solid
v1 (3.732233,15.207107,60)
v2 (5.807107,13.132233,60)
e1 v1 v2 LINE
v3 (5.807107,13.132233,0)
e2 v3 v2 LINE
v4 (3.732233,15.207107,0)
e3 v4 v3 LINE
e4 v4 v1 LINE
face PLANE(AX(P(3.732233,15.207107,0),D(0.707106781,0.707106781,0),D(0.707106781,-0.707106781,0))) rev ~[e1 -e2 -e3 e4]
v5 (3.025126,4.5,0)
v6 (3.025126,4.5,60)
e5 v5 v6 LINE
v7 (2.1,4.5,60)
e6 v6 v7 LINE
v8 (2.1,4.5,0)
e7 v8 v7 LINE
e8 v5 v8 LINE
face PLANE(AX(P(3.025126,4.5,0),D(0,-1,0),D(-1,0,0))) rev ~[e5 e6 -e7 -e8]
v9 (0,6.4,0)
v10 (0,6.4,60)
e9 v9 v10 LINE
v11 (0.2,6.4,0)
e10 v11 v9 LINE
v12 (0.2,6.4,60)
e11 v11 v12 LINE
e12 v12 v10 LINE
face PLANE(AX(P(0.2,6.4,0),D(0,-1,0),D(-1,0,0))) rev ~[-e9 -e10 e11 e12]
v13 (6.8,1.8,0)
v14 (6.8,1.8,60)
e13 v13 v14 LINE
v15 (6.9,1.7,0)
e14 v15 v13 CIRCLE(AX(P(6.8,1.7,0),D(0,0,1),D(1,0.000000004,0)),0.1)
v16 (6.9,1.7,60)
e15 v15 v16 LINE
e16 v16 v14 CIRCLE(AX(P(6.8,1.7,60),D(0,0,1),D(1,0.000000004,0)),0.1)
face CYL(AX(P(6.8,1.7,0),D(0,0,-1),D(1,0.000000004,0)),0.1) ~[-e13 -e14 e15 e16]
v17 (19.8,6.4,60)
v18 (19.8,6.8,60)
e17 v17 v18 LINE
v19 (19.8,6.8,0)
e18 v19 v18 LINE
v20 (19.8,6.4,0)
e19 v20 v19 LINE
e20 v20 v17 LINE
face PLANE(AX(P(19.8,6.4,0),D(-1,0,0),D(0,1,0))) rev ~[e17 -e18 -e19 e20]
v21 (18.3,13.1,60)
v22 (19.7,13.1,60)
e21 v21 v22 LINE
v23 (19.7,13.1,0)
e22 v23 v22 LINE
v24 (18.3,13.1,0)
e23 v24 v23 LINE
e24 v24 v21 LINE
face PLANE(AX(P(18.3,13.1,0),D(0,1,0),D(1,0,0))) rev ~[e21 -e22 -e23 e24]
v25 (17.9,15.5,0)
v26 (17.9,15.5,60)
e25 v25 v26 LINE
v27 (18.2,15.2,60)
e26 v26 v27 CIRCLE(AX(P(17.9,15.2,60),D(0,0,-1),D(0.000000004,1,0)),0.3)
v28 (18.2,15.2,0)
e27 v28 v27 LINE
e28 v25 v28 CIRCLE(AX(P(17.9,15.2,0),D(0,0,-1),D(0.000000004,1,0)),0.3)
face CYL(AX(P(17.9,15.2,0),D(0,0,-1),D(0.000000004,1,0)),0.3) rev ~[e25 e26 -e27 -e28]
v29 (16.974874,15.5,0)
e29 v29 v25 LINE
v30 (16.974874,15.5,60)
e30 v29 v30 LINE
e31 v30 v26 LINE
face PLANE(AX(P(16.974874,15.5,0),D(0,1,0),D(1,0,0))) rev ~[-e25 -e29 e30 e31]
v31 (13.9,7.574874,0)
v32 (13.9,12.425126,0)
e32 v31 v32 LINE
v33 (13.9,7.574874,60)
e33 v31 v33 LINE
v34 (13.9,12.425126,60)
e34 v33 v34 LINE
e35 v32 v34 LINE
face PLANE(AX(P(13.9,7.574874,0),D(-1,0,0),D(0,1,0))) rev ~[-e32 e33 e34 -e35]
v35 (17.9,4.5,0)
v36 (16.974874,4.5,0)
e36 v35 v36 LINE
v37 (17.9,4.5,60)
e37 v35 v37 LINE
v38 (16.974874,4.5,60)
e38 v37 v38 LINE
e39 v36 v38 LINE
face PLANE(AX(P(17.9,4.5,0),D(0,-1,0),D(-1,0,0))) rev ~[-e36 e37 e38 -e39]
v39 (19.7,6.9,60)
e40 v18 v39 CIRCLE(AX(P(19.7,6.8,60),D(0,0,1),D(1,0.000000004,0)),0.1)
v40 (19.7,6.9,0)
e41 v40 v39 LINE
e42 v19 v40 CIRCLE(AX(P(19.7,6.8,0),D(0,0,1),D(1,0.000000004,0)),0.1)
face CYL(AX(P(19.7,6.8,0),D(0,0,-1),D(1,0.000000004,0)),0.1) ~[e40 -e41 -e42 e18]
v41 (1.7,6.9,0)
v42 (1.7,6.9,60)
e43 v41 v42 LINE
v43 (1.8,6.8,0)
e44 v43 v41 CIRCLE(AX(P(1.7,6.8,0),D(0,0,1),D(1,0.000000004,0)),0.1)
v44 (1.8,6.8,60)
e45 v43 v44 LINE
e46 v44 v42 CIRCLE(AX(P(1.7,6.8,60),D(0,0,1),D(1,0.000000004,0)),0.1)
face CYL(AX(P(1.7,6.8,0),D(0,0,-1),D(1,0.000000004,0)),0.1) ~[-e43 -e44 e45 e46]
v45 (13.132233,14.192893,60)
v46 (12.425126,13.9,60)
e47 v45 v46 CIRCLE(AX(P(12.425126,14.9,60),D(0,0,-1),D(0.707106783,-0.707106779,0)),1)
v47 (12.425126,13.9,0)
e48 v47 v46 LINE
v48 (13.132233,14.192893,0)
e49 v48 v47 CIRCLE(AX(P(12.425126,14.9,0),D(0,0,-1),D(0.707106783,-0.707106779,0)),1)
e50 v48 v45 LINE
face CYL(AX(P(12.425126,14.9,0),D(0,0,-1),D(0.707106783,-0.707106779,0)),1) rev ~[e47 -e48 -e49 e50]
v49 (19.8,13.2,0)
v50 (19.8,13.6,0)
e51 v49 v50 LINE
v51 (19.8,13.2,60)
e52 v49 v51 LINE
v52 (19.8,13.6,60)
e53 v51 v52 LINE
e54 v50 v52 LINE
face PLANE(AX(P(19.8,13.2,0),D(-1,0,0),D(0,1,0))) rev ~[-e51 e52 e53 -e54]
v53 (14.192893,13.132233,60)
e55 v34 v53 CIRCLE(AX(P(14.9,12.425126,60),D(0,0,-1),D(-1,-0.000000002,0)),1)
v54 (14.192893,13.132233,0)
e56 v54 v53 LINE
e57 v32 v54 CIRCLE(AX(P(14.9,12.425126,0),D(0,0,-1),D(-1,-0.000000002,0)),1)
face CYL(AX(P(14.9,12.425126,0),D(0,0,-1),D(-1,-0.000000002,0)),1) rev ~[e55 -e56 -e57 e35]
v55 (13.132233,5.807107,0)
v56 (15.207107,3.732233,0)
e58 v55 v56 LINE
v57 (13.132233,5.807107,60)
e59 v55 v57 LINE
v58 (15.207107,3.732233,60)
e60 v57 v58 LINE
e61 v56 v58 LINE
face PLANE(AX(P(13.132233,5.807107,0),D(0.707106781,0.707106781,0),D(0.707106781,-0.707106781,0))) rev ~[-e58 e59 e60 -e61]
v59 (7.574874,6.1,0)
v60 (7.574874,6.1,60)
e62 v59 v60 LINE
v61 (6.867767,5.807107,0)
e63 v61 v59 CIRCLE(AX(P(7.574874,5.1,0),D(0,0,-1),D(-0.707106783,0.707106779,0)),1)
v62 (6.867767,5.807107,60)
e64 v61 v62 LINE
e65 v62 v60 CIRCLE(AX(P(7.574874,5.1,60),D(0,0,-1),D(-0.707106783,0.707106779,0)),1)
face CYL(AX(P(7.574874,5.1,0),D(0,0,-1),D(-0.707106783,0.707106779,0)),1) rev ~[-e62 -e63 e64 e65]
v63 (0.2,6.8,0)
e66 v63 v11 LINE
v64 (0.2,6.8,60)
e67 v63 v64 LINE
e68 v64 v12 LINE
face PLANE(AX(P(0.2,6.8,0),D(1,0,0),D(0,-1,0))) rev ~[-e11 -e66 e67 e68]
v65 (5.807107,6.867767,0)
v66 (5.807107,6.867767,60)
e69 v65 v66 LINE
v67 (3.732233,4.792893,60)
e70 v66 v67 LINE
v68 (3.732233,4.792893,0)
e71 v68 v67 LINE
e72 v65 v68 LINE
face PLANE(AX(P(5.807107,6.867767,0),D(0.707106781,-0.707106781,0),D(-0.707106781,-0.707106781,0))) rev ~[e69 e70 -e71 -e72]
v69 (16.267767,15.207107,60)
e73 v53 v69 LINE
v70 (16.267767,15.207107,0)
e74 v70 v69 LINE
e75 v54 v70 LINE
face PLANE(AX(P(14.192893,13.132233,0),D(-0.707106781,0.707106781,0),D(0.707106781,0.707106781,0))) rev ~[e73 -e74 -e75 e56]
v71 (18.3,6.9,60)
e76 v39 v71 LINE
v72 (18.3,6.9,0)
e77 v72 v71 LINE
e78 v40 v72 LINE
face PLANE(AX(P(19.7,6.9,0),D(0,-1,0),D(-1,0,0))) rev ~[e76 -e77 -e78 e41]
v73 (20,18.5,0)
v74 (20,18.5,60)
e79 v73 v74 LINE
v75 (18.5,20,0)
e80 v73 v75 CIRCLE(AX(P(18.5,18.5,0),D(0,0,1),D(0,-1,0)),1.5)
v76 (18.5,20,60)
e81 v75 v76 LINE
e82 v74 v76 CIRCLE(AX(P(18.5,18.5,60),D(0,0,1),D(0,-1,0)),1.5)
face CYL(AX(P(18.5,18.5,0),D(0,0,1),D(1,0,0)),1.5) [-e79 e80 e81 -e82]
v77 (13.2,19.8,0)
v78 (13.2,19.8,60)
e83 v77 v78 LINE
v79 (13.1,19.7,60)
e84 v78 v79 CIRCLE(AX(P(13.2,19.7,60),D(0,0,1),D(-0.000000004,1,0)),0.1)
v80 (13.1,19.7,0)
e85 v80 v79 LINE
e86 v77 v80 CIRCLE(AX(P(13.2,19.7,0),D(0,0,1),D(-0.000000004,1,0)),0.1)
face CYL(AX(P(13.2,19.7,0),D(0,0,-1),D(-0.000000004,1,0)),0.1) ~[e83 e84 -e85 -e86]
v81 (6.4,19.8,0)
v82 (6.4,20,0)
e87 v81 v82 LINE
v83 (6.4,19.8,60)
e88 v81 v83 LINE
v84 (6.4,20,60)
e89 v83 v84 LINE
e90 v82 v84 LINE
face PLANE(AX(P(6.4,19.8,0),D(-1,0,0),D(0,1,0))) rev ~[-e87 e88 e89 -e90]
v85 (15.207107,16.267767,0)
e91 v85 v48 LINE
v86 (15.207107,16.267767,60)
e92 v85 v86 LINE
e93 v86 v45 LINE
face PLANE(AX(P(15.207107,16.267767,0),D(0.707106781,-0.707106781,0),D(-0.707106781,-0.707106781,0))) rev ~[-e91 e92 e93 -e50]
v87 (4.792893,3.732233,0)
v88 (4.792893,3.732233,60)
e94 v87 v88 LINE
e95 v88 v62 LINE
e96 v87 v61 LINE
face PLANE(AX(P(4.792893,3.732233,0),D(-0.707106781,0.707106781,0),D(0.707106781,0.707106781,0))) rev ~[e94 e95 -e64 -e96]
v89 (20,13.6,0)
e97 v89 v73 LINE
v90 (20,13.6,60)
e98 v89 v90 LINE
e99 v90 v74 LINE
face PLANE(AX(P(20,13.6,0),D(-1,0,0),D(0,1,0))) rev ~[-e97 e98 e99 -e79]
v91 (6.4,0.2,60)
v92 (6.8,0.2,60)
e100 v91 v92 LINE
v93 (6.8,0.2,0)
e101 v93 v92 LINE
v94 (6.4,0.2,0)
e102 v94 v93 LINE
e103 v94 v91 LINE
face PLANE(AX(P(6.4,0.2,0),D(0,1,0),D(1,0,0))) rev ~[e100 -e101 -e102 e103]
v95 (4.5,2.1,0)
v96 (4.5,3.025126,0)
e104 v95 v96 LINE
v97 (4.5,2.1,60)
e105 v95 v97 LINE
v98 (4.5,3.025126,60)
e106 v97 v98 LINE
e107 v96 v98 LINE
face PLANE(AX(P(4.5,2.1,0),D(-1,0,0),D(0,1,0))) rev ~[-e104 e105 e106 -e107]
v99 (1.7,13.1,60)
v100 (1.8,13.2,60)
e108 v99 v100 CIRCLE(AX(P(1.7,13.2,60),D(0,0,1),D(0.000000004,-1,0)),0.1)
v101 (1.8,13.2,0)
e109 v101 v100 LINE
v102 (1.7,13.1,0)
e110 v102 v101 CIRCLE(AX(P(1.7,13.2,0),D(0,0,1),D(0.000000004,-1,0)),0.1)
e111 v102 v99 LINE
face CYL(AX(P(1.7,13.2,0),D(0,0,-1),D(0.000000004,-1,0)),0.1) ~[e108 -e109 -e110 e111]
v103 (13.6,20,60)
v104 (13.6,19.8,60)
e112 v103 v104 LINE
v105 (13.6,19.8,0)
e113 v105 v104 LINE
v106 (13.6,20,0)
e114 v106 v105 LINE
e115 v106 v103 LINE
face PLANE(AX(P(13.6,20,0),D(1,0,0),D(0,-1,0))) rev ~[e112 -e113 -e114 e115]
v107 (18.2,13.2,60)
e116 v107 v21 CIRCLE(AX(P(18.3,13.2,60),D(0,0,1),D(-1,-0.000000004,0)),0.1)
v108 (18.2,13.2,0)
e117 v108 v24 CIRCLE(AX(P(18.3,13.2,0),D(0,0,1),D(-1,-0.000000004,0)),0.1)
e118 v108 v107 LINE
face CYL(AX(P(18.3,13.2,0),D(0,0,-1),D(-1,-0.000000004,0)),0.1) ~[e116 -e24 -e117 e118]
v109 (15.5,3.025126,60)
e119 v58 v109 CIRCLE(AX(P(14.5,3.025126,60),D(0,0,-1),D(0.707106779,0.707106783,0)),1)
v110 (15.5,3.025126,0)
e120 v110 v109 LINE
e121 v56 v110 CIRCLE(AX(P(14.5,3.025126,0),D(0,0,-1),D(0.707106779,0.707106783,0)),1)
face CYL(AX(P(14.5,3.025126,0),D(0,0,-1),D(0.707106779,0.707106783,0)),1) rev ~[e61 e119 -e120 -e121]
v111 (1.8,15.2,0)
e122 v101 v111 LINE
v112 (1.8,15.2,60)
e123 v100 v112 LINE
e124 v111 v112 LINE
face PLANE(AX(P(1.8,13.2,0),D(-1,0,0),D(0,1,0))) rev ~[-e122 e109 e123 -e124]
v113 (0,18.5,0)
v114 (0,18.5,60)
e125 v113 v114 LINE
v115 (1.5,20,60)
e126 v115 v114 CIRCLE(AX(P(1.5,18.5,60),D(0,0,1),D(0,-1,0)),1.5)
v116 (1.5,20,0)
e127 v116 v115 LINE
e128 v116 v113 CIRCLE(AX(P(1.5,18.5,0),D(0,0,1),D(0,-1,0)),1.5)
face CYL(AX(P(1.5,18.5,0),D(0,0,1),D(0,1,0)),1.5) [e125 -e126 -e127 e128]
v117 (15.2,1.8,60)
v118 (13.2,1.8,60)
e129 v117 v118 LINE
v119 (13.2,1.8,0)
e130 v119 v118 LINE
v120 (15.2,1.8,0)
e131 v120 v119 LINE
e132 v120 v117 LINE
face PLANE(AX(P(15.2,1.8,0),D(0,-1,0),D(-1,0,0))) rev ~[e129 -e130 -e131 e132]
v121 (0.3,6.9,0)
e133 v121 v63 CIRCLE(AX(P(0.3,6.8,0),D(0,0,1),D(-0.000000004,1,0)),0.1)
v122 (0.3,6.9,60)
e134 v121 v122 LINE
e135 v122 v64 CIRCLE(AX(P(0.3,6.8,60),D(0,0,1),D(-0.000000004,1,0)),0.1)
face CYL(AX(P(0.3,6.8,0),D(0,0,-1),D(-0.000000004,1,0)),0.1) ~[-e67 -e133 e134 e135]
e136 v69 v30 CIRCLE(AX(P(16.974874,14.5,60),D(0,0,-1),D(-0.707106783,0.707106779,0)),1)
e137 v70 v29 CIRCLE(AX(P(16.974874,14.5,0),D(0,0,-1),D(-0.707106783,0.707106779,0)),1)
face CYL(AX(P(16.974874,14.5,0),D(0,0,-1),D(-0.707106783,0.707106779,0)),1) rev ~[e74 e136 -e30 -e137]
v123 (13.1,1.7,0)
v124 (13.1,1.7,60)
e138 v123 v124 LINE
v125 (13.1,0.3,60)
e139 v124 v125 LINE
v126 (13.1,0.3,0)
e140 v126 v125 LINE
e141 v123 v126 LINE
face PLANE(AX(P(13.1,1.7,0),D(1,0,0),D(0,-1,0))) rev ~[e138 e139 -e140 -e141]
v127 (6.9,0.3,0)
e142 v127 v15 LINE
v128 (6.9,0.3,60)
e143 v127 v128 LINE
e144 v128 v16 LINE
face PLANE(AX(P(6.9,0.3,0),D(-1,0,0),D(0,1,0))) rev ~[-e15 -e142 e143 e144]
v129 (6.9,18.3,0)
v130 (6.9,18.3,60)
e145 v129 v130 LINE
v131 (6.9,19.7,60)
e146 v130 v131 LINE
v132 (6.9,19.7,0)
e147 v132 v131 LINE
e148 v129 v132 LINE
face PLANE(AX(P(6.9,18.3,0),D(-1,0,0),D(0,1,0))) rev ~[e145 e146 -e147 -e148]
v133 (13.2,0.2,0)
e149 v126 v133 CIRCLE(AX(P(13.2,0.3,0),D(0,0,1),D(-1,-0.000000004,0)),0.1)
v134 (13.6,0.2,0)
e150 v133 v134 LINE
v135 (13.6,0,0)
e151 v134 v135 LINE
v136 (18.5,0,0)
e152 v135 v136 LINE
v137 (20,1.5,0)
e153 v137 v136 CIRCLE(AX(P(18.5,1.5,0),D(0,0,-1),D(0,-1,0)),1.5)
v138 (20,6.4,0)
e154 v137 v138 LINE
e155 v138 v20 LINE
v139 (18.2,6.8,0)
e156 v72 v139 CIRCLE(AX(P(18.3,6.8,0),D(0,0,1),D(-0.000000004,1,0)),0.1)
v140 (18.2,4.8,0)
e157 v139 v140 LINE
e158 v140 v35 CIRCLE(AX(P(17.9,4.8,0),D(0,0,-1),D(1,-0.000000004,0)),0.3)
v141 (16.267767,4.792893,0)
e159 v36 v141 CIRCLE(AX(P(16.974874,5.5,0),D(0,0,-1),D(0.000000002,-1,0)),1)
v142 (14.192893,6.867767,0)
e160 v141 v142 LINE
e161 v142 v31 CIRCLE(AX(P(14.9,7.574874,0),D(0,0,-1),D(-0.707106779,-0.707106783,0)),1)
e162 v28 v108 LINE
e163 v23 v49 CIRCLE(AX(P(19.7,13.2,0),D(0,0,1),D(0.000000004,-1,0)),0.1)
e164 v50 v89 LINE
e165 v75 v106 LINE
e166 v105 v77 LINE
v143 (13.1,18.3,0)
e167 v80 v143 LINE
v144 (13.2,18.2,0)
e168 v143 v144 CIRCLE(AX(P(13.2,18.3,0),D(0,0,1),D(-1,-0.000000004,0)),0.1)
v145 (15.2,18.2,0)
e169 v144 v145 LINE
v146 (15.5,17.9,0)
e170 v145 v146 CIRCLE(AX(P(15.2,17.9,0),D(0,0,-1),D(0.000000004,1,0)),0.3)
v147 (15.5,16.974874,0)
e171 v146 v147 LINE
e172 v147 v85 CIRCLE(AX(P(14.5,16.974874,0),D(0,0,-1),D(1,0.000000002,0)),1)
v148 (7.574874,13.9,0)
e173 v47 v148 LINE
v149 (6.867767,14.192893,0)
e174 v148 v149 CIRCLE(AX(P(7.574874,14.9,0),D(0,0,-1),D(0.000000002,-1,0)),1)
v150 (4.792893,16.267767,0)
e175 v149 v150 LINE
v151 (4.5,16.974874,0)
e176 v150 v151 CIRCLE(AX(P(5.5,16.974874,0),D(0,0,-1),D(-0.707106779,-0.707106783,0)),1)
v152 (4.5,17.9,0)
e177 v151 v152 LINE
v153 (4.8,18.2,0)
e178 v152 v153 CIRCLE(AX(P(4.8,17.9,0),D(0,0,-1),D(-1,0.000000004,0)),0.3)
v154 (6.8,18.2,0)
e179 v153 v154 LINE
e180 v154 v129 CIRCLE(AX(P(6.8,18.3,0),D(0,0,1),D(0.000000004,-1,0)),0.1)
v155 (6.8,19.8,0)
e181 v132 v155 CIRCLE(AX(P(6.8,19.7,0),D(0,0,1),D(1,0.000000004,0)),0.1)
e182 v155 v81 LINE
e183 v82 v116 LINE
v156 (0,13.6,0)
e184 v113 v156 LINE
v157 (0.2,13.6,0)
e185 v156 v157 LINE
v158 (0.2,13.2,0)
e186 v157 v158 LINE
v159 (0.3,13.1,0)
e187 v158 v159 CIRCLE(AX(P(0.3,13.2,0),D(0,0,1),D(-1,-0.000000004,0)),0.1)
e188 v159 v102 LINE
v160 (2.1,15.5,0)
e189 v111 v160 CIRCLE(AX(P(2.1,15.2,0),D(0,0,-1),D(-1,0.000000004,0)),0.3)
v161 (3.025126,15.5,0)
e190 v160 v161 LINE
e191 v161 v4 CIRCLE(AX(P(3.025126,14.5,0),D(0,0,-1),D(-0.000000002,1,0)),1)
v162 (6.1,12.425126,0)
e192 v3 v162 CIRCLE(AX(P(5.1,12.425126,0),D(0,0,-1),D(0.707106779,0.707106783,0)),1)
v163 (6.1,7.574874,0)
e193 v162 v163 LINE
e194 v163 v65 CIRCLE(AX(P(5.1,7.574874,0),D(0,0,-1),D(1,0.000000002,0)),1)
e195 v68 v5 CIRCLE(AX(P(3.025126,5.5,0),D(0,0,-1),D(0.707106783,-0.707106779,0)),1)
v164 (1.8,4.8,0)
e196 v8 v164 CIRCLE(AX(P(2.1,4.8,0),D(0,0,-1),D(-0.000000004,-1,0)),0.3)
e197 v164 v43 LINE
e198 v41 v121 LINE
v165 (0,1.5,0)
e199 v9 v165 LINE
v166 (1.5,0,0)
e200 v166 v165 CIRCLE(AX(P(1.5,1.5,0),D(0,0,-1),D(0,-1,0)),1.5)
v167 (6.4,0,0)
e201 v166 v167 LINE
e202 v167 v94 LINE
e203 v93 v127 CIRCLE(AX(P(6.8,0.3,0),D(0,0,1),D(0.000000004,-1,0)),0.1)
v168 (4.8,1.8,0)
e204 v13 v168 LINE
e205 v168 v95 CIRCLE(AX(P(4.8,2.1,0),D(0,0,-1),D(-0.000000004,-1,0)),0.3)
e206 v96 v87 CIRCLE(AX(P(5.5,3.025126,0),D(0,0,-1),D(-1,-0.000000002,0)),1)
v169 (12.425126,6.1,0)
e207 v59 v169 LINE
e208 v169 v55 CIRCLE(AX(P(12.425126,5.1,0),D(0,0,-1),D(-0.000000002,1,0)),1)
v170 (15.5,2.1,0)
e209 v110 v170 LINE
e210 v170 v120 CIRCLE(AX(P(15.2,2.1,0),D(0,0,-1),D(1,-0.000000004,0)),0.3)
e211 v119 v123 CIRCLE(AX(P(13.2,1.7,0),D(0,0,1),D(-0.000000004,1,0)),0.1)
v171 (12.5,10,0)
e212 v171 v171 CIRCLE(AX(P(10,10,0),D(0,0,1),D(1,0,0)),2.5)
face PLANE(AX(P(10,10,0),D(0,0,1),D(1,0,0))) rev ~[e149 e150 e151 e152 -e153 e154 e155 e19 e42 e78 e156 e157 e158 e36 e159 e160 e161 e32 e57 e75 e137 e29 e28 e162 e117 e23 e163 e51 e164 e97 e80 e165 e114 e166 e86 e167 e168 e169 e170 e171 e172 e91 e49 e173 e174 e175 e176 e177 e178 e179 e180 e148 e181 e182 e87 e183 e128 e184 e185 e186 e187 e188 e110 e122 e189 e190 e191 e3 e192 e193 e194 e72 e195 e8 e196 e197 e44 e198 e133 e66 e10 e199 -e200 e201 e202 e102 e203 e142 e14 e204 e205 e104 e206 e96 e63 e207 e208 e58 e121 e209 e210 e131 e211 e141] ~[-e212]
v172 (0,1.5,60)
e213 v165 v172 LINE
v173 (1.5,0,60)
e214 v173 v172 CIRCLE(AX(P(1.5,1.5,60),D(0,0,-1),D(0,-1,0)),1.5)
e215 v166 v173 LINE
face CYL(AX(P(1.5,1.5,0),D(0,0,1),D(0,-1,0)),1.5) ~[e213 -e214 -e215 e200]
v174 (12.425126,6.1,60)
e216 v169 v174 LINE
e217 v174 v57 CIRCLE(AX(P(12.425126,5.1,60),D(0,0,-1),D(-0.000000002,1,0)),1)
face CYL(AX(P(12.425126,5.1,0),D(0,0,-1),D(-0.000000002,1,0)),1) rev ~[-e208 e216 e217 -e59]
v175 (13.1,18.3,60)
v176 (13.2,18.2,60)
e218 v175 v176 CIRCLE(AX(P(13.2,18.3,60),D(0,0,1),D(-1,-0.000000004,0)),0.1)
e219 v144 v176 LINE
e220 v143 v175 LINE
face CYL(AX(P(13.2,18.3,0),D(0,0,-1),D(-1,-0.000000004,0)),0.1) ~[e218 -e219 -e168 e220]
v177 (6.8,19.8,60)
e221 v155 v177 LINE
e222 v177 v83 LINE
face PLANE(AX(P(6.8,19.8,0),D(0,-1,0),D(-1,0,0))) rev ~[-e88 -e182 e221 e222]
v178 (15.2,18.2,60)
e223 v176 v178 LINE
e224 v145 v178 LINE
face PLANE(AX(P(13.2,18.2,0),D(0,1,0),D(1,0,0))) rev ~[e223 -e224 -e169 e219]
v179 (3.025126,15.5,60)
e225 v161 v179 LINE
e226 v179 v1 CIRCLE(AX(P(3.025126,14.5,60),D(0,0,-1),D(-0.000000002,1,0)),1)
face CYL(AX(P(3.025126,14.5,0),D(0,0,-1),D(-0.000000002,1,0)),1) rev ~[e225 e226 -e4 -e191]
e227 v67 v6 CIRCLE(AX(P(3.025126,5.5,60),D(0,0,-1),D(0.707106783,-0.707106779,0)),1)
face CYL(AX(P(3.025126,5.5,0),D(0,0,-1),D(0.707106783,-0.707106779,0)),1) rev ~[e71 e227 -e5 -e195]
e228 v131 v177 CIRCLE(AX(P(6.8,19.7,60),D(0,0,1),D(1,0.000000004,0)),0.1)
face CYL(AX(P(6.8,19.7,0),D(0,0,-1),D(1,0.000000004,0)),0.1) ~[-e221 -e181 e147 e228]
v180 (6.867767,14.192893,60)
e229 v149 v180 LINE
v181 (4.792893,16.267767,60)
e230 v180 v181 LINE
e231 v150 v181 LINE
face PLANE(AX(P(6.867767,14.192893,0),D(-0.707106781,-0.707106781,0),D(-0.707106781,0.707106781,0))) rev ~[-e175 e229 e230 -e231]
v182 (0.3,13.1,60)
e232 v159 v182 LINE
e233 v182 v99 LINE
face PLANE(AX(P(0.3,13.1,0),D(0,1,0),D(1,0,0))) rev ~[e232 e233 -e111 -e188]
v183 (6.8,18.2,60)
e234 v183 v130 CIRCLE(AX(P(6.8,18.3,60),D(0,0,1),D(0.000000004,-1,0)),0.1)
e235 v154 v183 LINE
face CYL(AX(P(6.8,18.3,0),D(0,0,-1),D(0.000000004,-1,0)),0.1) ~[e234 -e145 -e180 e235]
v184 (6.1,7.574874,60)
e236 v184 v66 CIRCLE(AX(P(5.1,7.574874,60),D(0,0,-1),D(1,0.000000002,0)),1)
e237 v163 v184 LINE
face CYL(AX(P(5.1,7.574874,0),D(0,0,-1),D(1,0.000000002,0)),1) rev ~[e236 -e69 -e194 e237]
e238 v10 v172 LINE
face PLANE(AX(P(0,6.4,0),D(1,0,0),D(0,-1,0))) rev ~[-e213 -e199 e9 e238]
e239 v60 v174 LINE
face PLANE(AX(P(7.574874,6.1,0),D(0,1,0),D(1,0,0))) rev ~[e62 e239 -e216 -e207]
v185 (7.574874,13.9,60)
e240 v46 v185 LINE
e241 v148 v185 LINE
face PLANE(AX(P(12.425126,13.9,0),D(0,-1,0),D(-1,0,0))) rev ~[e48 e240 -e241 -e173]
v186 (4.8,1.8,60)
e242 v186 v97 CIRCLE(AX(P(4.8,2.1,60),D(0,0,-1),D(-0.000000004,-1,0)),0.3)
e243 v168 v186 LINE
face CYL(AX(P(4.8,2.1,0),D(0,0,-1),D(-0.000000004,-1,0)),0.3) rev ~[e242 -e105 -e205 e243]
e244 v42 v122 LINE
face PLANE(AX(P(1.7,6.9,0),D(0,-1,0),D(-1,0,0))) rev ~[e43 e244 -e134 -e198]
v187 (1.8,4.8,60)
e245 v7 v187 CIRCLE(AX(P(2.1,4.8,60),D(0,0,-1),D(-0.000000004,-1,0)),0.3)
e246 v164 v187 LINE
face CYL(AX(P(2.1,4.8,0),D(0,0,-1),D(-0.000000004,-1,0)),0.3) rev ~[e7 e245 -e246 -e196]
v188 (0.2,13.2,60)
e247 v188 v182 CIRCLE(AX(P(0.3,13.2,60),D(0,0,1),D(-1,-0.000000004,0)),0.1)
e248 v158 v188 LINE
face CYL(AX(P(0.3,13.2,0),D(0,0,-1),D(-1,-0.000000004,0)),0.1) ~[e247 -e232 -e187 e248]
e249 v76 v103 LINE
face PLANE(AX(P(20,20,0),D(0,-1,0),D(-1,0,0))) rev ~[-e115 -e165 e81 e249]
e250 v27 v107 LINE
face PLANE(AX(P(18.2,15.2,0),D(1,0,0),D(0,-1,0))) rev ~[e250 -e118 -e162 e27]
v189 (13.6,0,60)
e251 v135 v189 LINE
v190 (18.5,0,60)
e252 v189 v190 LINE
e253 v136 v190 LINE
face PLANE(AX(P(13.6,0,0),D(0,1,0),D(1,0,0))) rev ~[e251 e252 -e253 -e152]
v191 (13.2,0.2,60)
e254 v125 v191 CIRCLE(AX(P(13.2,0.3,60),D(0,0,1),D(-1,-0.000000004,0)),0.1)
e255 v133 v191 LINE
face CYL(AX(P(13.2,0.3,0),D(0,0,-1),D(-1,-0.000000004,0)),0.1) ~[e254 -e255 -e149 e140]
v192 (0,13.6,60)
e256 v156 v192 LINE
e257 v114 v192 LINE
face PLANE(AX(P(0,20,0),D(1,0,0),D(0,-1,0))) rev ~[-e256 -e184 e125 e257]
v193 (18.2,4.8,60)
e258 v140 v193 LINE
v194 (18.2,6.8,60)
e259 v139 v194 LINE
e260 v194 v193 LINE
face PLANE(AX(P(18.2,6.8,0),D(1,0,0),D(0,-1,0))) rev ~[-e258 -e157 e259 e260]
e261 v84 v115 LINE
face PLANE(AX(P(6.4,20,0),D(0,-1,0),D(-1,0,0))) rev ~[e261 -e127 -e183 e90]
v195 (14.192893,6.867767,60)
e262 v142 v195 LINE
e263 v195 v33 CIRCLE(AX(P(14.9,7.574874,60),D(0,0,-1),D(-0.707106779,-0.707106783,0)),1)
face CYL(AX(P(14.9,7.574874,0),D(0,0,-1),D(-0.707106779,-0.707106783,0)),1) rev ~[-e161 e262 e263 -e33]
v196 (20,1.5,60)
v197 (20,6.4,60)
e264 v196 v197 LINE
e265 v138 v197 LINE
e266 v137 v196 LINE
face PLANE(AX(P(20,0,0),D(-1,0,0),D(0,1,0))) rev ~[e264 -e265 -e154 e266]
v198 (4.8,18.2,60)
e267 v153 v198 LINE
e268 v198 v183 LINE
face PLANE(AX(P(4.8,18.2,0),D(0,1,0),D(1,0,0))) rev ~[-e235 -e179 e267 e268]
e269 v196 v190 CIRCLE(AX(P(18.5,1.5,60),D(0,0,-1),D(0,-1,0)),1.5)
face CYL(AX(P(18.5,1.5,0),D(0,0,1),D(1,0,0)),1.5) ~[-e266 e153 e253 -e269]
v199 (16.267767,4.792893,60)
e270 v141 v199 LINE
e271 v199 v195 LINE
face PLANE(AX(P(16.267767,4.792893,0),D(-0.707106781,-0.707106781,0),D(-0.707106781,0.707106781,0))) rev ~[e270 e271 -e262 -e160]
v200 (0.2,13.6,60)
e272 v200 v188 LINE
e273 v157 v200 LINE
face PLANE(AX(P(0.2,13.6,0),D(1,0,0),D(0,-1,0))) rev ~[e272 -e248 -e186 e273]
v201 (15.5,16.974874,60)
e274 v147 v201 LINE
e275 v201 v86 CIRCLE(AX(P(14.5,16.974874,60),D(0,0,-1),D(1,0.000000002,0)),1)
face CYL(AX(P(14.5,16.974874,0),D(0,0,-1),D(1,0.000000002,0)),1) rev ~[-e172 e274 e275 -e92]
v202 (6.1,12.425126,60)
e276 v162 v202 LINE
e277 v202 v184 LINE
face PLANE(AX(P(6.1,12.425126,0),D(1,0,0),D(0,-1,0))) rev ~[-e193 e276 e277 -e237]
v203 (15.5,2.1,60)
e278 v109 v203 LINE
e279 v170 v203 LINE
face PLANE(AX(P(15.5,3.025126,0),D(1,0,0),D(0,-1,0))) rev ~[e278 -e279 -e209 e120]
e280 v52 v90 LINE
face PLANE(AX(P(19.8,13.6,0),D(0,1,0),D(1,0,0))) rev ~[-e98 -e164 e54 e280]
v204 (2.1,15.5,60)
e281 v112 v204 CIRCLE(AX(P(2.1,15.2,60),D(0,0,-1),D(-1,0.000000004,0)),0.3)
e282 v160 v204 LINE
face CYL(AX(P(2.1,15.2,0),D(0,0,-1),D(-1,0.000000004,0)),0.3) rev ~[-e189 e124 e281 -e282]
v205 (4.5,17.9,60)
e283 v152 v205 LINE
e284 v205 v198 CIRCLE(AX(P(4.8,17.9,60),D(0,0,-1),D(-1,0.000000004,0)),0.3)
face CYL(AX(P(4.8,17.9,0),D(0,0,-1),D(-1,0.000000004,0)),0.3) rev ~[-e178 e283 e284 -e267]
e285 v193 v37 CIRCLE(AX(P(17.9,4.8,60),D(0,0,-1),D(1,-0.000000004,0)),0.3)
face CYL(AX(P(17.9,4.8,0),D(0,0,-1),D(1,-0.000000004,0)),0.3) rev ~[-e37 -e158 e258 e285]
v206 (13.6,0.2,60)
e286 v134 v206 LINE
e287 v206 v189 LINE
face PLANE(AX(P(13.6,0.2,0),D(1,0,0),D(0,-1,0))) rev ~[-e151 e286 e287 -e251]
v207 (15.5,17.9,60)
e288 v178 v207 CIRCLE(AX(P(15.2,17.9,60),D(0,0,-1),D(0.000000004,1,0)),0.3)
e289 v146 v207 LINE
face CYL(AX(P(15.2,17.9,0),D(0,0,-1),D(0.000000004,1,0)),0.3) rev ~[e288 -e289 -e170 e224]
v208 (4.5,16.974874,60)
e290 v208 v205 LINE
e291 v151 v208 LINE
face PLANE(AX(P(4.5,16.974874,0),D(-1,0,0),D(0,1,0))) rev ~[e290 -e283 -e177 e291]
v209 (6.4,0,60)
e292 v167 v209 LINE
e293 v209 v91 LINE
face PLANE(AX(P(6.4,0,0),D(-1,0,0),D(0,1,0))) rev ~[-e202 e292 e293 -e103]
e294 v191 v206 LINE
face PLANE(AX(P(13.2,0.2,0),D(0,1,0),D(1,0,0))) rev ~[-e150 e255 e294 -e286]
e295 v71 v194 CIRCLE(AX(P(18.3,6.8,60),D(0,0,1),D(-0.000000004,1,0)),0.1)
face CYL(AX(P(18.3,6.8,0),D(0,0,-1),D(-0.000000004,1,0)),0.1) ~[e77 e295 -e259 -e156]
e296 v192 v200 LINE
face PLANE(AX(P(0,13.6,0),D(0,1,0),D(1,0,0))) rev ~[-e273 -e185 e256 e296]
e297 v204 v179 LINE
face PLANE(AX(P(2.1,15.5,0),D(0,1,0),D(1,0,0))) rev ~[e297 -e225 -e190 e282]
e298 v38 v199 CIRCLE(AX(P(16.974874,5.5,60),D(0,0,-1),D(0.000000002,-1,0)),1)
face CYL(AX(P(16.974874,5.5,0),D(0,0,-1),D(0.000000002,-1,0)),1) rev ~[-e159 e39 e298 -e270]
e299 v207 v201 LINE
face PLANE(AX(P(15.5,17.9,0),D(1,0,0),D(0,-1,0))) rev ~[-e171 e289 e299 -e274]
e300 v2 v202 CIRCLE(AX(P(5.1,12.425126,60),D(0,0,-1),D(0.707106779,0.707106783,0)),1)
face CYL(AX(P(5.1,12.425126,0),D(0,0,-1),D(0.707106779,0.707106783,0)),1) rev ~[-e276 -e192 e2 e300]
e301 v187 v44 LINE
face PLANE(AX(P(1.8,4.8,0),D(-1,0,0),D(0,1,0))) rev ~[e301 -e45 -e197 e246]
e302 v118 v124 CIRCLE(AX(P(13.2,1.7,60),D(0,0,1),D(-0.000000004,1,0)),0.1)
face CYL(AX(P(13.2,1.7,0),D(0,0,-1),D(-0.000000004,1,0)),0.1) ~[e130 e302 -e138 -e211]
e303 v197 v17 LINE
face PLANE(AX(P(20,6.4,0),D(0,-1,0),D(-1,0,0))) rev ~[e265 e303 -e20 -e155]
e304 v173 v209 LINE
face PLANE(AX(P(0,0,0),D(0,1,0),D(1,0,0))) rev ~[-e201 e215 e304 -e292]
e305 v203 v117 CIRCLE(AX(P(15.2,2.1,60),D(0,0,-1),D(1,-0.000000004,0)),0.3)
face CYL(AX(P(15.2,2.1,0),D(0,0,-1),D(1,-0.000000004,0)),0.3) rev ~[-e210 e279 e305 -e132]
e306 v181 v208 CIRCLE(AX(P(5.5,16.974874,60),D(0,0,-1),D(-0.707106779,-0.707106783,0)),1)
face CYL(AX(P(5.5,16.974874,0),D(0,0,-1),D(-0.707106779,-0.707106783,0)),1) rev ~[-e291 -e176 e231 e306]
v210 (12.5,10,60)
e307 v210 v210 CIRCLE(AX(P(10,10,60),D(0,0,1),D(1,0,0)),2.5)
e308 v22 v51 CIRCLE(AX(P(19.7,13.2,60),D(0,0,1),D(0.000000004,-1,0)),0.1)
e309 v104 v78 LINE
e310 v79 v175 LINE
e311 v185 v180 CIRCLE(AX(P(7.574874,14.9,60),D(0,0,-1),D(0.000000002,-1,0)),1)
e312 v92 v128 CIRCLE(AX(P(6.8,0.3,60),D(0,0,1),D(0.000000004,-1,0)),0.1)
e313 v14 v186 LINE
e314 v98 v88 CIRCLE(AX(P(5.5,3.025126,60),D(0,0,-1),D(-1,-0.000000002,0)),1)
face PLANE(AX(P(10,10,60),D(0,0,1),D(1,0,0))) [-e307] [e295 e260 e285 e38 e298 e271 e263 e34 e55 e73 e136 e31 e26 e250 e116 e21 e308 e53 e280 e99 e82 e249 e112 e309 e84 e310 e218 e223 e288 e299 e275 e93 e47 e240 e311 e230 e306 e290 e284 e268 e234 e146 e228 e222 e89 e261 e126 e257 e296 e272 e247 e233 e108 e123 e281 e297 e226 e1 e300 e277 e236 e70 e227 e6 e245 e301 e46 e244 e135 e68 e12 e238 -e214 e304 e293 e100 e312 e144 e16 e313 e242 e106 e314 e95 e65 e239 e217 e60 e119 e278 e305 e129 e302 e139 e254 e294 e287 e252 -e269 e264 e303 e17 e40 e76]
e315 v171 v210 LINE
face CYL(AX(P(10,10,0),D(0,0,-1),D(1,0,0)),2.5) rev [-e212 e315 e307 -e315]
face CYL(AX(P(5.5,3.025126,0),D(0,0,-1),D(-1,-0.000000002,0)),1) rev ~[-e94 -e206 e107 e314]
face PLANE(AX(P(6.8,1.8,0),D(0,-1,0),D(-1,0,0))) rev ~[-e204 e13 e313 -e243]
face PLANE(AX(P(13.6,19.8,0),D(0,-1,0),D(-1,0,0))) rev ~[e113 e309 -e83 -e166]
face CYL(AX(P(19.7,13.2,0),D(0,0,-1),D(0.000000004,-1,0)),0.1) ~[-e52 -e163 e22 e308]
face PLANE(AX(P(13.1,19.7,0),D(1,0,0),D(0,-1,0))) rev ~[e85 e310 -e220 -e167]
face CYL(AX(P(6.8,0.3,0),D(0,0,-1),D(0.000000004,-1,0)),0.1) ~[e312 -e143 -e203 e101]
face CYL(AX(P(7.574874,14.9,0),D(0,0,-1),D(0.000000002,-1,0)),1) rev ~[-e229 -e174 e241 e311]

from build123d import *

# Parameters (mm, degrees)
SKETCH_1_R      = 2.5
EXTRUDE_1_DEPTH = 60
FILLET_1_R      = 1.5


with BuildPart() as part:
    # 草图1 → 凸台-拉伸1 (new body)
    with BuildSketch(Plane.XY):
        with BuildLine():
            Line((20, 13.6), (20, 20))
            Line((20, 20), (13.6, 20))
            Line((13.6, 20), (13.6, 19.8))
            Line((13.6, 19.8), (13.2, 19.8))
            ThreePointArc((13.2, 19.8), (13.129289322, 19.770710678), (13.1, 19.7))
            Line((13.1, 19.7), (13.1, 18.3))
            ThreePointArc((13.1, 18.3), (13.129289322, 18.229289322), (13.2, 18.2))
            Line((13.2, 18.2), (15.2, 18.2))
            ThreePointArc((15.2, 18.2), (15.412132034, 18.112132034), (15.5, 17.9))
            Line((15.5, 17.9), (15.5, 16.974873734))
            ThreePointArc((15.5, 16.974873734), (15.423879533, 16.592190302), (15.207106781, 16.267766953))
            Line((15.207106781, 16.267766953), (13.132233047, 14.192893219))
            ThreePointArc((13.132233047, 14.192893219), (12.807809698, 13.976120467), (12.425126266, 13.9))
            Line((12.425126266, 13.9), (7.574873734, 13.9))
            ThreePointArc((7.574873734, 13.9), (7.192190302, 13.976120467), (6.867766953, 14.192893219))
            Line((6.867766953, 14.192893219), (4.792893219, 16.267766953))
            ThreePointArc((4.792893219, 16.267766953), (4.576120467, 16.592190302), (4.5, 16.974873734))
            Line((4.5, 16.974873734), (4.5, 17.9))
            ThreePointArc((4.5, 17.9), (4.587867966, 18.112132034), (4.8, 18.2))
            Line((4.8, 18.2), (6.8, 18.2))
            ThreePointArc((6.8, 18.2), (6.870710678, 18.229289322), (6.9, 18.3))
            Line((6.9, 18.3), (6.9, 19.7))
            ThreePointArc((6.9, 19.7), (6.870710678, 19.770710678), (6.8, 19.8))
            Line((6.8, 19.8), (6.4, 19.8))
            Line((6.4, 19.8), (6.4, 20))
            Line((6.4, 20), (0, 20))
            Line((0, 20), (0, 13.6))
            Line((0, 13.6), (0.2, 13.6))
            Line((0.2, 13.6), (0.2, 13.2))
            ThreePointArc((0.2, 13.2), (0.229289322, 13.129289322), (0.3, 13.1))
            Line((0.3, 13.1), (1.7, 13.1))
            ThreePointArc((1.7, 13.1), (1.770710678, 13.129289322), (1.8, 13.2))
            Line((1.8, 13.2), (1.8, 15.2))
            ThreePointArc((1.8, 15.2), (1.887867966, 15.412132034), (2.1, 15.5))
            Line((2.1, 15.5), (3.025126266, 15.5))
            ThreePointArc((3.025126266, 15.5), (3.407809698, 15.423879533), (3.732233047, 15.207106781))
            Line((3.732233047, 15.207106781), (5.807106781, 13.132233047))
            ThreePointArc((5.807106781, 13.132233047), (6.023879533, 12.807809698), (6.1, 12.425126266))
            Line((6.1, 12.425126266), (6.1, 7.574873734))
            ThreePointArc((6.1, 7.574873734), (6.023879533, 7.192190302), (5.807106781, 6.867766953))
            Line((5.807106781, 6.867766953), (3.732233047, 4.792893219))
            ThreePointArc((3.732233047, 4.792893219), (3.407809698, 4.576120467), (3.025126266, 4.5))
            Line((3.025126266, 4.5), (2.1, 4.5))
            ThreePointArc((2.1, 4.5), (1.887867966, 4.587867966), (1.8, 4.8))
            Line((1.8, 4.8), (1.8, 6.8))
            ThreePointArc((1.8, 6.8), (1.770710678, 6.870710678), (1.7, 6.9))
            Line((1.7, 6.9), (0.3, 6.9))
            ThreePointArc((0.3, 6.9), (0.229289322, 6.870710678), (0.2, 6.8))
            Line((0.2, 6.8), (0.2, 6.4))
            Line((0.2, 6.4), (0, 6.4))
            Line((0, 6.4), (0, 0))
            Line((0, 0), (6.4, 0))
            Line((6.4, 0), (6.4, 0.2))
            Line((6.4, 0.2), (6.8, 0.2))
            ThreePointArc((6.8, 0.2), (6.870710678, 0.229289322), (6.9, 0.3))
            Line((6.9, 0.3), (6.9, 1.7))
            ThreePointArc((6.9, 1.7), (6.870710678, 1.770710678), (6.8, 1.8))
            Line((6.8, 1.8), (4.8, 1.8))
            ThreePointArc((4.8, 1.8), (4.587867966, 1.887867966), (4.5, 2.1))
            Line((4.5, 2.1), (4.5, 3.025126266))
            ThreePointArc((4.5, 3.025126266), (4.576120467, 3.407809698), (4.792893219, 3.732233047))
            Line((4.792893219, 3.732233047), (6.867766953, 5.807106781))
            ThreePointArc((6.867766953, 5.807106781), (7.192190302, 6.023879533), (7.574873734, 6.1))
            Line((7.574873734, 6.1), (12.425126266, 6.1))
            ThreePointArc((12.425126266, 6.1), (12.807809698, 6.023879533), (13.132233047, 5.807106781))
            Line((13.132233047, 5.807106781), (15.207106781, 3.732233047))
            ThreePointArc((15.207106781, 3.732233047), (15.423879533, 3.407809698), (15.5, 3.025126266))
            Line((15.5, 3.025126266), (15.5, 2.1))
            ThreePointArc((15.5, 2.1), (15.412132034, 1.887867966), (15.2, 1.8))
            Line((15.2, 1.8), (13.2, 1.8))
            ThreePointArc((13.2, 1.8), (13.129289322, 1.770710678), (13.1, 1.7))
            Line((13.1, 1.7), (13.1, 0.3))
            ThreePointArc((13.1, 0.3), (13.129289322, 0.229289322), (13.2, 0.2))
            Line((13.2, 0.2), (13.6, 0.2))
            Line((13.6, 0.2), (13.6, 0))
            Line((13.6, 0), (20, 0))
            Line((20, 0), (20, 6.4))
            Line((20, 6.4), (19.8, 6.4))
            Line((19.8, 6.4), (19.8, 6.8))
            ThreePointArc((19.8, 6.8), (19.770710678, 6.870710678), (19.7, 6.9))
            Line((19.7, 6.9), (18.3, 6.9))
            ThreePointArc((18.3, 6.9), (18.229289322, 6.870710678), (18.2, 6.8))
            Line((18.2, 6.8), (18.2, 4.8))
            ThreePointArc((18.2, 4.8), (18.112132034, 4.587867966), (17.9, 4.5))
            Line((17.9, 4.5), (16.974873734, 4.5))
            ThreePointArc((16.974873734, 4.5), (16.592190302, 4.576120467), (16.267766953, 4.792893219))
            Line((16.267766953, 4.792893219), (14.192893219, 6.867766953))
            ThreePointArc((14.192893219, 6.867766953), (13.976120467, 7.192190302), (13.9, 7.574873734))
            Line((13.9, 7.574873734), (13.9, 12.425126266))
            ThreePointArc((13.9, 12.425126266), (13.976120467, 12.807809698), (14.192893219, 13.132233047))
            Line((14.192893219, 13.132233047), (16.267766953, 15.207106781))
            ThreePointArc((16.267766953, 15.207106781), (16.592190302, 15.423879533), (16.974873734, 15.5))
            Line((16.974873734, 15.5), (17.9, 15.5))
            ThreePointArc((17.9, 15.5), (18.112132034, 15.412132034), (18.2, 15.2))
            Line((18.2, 15.2), (18.2, 13.2))
            ThreePointArc((18.2, 13.2), (18.229289322, 13.129289322), (18.3, 13.1))
            Line((18.3, 13.1), (19.7, 13.1))
            ThreePointArc((19.7, 13.1), (19.770710678, 13.129289322), (19.8, 13.2))
            Line((19.8, 13.2), (19.8, 13.6))
            Line((19.8, 13.6), (20, 13.6))
        make_face()
        with Locations((10, 10)):
            Circle(SKETCH_1_R, mode=Mode.SUBTRACT)
    extrude(amount=EXTRUDE_1_DEPTH)

    # 圆角1
    fillet_1_edges = [part.edges().sort_by_distance(p)[0] for p in [
        (0, 0, 30),
        (0, 20, 30),
        (20, 20, 30),
        (20, 0, 30),
    ]]
    fillet(fillet_1_edges, radius=FILLET_1_R)


solid = part.part
